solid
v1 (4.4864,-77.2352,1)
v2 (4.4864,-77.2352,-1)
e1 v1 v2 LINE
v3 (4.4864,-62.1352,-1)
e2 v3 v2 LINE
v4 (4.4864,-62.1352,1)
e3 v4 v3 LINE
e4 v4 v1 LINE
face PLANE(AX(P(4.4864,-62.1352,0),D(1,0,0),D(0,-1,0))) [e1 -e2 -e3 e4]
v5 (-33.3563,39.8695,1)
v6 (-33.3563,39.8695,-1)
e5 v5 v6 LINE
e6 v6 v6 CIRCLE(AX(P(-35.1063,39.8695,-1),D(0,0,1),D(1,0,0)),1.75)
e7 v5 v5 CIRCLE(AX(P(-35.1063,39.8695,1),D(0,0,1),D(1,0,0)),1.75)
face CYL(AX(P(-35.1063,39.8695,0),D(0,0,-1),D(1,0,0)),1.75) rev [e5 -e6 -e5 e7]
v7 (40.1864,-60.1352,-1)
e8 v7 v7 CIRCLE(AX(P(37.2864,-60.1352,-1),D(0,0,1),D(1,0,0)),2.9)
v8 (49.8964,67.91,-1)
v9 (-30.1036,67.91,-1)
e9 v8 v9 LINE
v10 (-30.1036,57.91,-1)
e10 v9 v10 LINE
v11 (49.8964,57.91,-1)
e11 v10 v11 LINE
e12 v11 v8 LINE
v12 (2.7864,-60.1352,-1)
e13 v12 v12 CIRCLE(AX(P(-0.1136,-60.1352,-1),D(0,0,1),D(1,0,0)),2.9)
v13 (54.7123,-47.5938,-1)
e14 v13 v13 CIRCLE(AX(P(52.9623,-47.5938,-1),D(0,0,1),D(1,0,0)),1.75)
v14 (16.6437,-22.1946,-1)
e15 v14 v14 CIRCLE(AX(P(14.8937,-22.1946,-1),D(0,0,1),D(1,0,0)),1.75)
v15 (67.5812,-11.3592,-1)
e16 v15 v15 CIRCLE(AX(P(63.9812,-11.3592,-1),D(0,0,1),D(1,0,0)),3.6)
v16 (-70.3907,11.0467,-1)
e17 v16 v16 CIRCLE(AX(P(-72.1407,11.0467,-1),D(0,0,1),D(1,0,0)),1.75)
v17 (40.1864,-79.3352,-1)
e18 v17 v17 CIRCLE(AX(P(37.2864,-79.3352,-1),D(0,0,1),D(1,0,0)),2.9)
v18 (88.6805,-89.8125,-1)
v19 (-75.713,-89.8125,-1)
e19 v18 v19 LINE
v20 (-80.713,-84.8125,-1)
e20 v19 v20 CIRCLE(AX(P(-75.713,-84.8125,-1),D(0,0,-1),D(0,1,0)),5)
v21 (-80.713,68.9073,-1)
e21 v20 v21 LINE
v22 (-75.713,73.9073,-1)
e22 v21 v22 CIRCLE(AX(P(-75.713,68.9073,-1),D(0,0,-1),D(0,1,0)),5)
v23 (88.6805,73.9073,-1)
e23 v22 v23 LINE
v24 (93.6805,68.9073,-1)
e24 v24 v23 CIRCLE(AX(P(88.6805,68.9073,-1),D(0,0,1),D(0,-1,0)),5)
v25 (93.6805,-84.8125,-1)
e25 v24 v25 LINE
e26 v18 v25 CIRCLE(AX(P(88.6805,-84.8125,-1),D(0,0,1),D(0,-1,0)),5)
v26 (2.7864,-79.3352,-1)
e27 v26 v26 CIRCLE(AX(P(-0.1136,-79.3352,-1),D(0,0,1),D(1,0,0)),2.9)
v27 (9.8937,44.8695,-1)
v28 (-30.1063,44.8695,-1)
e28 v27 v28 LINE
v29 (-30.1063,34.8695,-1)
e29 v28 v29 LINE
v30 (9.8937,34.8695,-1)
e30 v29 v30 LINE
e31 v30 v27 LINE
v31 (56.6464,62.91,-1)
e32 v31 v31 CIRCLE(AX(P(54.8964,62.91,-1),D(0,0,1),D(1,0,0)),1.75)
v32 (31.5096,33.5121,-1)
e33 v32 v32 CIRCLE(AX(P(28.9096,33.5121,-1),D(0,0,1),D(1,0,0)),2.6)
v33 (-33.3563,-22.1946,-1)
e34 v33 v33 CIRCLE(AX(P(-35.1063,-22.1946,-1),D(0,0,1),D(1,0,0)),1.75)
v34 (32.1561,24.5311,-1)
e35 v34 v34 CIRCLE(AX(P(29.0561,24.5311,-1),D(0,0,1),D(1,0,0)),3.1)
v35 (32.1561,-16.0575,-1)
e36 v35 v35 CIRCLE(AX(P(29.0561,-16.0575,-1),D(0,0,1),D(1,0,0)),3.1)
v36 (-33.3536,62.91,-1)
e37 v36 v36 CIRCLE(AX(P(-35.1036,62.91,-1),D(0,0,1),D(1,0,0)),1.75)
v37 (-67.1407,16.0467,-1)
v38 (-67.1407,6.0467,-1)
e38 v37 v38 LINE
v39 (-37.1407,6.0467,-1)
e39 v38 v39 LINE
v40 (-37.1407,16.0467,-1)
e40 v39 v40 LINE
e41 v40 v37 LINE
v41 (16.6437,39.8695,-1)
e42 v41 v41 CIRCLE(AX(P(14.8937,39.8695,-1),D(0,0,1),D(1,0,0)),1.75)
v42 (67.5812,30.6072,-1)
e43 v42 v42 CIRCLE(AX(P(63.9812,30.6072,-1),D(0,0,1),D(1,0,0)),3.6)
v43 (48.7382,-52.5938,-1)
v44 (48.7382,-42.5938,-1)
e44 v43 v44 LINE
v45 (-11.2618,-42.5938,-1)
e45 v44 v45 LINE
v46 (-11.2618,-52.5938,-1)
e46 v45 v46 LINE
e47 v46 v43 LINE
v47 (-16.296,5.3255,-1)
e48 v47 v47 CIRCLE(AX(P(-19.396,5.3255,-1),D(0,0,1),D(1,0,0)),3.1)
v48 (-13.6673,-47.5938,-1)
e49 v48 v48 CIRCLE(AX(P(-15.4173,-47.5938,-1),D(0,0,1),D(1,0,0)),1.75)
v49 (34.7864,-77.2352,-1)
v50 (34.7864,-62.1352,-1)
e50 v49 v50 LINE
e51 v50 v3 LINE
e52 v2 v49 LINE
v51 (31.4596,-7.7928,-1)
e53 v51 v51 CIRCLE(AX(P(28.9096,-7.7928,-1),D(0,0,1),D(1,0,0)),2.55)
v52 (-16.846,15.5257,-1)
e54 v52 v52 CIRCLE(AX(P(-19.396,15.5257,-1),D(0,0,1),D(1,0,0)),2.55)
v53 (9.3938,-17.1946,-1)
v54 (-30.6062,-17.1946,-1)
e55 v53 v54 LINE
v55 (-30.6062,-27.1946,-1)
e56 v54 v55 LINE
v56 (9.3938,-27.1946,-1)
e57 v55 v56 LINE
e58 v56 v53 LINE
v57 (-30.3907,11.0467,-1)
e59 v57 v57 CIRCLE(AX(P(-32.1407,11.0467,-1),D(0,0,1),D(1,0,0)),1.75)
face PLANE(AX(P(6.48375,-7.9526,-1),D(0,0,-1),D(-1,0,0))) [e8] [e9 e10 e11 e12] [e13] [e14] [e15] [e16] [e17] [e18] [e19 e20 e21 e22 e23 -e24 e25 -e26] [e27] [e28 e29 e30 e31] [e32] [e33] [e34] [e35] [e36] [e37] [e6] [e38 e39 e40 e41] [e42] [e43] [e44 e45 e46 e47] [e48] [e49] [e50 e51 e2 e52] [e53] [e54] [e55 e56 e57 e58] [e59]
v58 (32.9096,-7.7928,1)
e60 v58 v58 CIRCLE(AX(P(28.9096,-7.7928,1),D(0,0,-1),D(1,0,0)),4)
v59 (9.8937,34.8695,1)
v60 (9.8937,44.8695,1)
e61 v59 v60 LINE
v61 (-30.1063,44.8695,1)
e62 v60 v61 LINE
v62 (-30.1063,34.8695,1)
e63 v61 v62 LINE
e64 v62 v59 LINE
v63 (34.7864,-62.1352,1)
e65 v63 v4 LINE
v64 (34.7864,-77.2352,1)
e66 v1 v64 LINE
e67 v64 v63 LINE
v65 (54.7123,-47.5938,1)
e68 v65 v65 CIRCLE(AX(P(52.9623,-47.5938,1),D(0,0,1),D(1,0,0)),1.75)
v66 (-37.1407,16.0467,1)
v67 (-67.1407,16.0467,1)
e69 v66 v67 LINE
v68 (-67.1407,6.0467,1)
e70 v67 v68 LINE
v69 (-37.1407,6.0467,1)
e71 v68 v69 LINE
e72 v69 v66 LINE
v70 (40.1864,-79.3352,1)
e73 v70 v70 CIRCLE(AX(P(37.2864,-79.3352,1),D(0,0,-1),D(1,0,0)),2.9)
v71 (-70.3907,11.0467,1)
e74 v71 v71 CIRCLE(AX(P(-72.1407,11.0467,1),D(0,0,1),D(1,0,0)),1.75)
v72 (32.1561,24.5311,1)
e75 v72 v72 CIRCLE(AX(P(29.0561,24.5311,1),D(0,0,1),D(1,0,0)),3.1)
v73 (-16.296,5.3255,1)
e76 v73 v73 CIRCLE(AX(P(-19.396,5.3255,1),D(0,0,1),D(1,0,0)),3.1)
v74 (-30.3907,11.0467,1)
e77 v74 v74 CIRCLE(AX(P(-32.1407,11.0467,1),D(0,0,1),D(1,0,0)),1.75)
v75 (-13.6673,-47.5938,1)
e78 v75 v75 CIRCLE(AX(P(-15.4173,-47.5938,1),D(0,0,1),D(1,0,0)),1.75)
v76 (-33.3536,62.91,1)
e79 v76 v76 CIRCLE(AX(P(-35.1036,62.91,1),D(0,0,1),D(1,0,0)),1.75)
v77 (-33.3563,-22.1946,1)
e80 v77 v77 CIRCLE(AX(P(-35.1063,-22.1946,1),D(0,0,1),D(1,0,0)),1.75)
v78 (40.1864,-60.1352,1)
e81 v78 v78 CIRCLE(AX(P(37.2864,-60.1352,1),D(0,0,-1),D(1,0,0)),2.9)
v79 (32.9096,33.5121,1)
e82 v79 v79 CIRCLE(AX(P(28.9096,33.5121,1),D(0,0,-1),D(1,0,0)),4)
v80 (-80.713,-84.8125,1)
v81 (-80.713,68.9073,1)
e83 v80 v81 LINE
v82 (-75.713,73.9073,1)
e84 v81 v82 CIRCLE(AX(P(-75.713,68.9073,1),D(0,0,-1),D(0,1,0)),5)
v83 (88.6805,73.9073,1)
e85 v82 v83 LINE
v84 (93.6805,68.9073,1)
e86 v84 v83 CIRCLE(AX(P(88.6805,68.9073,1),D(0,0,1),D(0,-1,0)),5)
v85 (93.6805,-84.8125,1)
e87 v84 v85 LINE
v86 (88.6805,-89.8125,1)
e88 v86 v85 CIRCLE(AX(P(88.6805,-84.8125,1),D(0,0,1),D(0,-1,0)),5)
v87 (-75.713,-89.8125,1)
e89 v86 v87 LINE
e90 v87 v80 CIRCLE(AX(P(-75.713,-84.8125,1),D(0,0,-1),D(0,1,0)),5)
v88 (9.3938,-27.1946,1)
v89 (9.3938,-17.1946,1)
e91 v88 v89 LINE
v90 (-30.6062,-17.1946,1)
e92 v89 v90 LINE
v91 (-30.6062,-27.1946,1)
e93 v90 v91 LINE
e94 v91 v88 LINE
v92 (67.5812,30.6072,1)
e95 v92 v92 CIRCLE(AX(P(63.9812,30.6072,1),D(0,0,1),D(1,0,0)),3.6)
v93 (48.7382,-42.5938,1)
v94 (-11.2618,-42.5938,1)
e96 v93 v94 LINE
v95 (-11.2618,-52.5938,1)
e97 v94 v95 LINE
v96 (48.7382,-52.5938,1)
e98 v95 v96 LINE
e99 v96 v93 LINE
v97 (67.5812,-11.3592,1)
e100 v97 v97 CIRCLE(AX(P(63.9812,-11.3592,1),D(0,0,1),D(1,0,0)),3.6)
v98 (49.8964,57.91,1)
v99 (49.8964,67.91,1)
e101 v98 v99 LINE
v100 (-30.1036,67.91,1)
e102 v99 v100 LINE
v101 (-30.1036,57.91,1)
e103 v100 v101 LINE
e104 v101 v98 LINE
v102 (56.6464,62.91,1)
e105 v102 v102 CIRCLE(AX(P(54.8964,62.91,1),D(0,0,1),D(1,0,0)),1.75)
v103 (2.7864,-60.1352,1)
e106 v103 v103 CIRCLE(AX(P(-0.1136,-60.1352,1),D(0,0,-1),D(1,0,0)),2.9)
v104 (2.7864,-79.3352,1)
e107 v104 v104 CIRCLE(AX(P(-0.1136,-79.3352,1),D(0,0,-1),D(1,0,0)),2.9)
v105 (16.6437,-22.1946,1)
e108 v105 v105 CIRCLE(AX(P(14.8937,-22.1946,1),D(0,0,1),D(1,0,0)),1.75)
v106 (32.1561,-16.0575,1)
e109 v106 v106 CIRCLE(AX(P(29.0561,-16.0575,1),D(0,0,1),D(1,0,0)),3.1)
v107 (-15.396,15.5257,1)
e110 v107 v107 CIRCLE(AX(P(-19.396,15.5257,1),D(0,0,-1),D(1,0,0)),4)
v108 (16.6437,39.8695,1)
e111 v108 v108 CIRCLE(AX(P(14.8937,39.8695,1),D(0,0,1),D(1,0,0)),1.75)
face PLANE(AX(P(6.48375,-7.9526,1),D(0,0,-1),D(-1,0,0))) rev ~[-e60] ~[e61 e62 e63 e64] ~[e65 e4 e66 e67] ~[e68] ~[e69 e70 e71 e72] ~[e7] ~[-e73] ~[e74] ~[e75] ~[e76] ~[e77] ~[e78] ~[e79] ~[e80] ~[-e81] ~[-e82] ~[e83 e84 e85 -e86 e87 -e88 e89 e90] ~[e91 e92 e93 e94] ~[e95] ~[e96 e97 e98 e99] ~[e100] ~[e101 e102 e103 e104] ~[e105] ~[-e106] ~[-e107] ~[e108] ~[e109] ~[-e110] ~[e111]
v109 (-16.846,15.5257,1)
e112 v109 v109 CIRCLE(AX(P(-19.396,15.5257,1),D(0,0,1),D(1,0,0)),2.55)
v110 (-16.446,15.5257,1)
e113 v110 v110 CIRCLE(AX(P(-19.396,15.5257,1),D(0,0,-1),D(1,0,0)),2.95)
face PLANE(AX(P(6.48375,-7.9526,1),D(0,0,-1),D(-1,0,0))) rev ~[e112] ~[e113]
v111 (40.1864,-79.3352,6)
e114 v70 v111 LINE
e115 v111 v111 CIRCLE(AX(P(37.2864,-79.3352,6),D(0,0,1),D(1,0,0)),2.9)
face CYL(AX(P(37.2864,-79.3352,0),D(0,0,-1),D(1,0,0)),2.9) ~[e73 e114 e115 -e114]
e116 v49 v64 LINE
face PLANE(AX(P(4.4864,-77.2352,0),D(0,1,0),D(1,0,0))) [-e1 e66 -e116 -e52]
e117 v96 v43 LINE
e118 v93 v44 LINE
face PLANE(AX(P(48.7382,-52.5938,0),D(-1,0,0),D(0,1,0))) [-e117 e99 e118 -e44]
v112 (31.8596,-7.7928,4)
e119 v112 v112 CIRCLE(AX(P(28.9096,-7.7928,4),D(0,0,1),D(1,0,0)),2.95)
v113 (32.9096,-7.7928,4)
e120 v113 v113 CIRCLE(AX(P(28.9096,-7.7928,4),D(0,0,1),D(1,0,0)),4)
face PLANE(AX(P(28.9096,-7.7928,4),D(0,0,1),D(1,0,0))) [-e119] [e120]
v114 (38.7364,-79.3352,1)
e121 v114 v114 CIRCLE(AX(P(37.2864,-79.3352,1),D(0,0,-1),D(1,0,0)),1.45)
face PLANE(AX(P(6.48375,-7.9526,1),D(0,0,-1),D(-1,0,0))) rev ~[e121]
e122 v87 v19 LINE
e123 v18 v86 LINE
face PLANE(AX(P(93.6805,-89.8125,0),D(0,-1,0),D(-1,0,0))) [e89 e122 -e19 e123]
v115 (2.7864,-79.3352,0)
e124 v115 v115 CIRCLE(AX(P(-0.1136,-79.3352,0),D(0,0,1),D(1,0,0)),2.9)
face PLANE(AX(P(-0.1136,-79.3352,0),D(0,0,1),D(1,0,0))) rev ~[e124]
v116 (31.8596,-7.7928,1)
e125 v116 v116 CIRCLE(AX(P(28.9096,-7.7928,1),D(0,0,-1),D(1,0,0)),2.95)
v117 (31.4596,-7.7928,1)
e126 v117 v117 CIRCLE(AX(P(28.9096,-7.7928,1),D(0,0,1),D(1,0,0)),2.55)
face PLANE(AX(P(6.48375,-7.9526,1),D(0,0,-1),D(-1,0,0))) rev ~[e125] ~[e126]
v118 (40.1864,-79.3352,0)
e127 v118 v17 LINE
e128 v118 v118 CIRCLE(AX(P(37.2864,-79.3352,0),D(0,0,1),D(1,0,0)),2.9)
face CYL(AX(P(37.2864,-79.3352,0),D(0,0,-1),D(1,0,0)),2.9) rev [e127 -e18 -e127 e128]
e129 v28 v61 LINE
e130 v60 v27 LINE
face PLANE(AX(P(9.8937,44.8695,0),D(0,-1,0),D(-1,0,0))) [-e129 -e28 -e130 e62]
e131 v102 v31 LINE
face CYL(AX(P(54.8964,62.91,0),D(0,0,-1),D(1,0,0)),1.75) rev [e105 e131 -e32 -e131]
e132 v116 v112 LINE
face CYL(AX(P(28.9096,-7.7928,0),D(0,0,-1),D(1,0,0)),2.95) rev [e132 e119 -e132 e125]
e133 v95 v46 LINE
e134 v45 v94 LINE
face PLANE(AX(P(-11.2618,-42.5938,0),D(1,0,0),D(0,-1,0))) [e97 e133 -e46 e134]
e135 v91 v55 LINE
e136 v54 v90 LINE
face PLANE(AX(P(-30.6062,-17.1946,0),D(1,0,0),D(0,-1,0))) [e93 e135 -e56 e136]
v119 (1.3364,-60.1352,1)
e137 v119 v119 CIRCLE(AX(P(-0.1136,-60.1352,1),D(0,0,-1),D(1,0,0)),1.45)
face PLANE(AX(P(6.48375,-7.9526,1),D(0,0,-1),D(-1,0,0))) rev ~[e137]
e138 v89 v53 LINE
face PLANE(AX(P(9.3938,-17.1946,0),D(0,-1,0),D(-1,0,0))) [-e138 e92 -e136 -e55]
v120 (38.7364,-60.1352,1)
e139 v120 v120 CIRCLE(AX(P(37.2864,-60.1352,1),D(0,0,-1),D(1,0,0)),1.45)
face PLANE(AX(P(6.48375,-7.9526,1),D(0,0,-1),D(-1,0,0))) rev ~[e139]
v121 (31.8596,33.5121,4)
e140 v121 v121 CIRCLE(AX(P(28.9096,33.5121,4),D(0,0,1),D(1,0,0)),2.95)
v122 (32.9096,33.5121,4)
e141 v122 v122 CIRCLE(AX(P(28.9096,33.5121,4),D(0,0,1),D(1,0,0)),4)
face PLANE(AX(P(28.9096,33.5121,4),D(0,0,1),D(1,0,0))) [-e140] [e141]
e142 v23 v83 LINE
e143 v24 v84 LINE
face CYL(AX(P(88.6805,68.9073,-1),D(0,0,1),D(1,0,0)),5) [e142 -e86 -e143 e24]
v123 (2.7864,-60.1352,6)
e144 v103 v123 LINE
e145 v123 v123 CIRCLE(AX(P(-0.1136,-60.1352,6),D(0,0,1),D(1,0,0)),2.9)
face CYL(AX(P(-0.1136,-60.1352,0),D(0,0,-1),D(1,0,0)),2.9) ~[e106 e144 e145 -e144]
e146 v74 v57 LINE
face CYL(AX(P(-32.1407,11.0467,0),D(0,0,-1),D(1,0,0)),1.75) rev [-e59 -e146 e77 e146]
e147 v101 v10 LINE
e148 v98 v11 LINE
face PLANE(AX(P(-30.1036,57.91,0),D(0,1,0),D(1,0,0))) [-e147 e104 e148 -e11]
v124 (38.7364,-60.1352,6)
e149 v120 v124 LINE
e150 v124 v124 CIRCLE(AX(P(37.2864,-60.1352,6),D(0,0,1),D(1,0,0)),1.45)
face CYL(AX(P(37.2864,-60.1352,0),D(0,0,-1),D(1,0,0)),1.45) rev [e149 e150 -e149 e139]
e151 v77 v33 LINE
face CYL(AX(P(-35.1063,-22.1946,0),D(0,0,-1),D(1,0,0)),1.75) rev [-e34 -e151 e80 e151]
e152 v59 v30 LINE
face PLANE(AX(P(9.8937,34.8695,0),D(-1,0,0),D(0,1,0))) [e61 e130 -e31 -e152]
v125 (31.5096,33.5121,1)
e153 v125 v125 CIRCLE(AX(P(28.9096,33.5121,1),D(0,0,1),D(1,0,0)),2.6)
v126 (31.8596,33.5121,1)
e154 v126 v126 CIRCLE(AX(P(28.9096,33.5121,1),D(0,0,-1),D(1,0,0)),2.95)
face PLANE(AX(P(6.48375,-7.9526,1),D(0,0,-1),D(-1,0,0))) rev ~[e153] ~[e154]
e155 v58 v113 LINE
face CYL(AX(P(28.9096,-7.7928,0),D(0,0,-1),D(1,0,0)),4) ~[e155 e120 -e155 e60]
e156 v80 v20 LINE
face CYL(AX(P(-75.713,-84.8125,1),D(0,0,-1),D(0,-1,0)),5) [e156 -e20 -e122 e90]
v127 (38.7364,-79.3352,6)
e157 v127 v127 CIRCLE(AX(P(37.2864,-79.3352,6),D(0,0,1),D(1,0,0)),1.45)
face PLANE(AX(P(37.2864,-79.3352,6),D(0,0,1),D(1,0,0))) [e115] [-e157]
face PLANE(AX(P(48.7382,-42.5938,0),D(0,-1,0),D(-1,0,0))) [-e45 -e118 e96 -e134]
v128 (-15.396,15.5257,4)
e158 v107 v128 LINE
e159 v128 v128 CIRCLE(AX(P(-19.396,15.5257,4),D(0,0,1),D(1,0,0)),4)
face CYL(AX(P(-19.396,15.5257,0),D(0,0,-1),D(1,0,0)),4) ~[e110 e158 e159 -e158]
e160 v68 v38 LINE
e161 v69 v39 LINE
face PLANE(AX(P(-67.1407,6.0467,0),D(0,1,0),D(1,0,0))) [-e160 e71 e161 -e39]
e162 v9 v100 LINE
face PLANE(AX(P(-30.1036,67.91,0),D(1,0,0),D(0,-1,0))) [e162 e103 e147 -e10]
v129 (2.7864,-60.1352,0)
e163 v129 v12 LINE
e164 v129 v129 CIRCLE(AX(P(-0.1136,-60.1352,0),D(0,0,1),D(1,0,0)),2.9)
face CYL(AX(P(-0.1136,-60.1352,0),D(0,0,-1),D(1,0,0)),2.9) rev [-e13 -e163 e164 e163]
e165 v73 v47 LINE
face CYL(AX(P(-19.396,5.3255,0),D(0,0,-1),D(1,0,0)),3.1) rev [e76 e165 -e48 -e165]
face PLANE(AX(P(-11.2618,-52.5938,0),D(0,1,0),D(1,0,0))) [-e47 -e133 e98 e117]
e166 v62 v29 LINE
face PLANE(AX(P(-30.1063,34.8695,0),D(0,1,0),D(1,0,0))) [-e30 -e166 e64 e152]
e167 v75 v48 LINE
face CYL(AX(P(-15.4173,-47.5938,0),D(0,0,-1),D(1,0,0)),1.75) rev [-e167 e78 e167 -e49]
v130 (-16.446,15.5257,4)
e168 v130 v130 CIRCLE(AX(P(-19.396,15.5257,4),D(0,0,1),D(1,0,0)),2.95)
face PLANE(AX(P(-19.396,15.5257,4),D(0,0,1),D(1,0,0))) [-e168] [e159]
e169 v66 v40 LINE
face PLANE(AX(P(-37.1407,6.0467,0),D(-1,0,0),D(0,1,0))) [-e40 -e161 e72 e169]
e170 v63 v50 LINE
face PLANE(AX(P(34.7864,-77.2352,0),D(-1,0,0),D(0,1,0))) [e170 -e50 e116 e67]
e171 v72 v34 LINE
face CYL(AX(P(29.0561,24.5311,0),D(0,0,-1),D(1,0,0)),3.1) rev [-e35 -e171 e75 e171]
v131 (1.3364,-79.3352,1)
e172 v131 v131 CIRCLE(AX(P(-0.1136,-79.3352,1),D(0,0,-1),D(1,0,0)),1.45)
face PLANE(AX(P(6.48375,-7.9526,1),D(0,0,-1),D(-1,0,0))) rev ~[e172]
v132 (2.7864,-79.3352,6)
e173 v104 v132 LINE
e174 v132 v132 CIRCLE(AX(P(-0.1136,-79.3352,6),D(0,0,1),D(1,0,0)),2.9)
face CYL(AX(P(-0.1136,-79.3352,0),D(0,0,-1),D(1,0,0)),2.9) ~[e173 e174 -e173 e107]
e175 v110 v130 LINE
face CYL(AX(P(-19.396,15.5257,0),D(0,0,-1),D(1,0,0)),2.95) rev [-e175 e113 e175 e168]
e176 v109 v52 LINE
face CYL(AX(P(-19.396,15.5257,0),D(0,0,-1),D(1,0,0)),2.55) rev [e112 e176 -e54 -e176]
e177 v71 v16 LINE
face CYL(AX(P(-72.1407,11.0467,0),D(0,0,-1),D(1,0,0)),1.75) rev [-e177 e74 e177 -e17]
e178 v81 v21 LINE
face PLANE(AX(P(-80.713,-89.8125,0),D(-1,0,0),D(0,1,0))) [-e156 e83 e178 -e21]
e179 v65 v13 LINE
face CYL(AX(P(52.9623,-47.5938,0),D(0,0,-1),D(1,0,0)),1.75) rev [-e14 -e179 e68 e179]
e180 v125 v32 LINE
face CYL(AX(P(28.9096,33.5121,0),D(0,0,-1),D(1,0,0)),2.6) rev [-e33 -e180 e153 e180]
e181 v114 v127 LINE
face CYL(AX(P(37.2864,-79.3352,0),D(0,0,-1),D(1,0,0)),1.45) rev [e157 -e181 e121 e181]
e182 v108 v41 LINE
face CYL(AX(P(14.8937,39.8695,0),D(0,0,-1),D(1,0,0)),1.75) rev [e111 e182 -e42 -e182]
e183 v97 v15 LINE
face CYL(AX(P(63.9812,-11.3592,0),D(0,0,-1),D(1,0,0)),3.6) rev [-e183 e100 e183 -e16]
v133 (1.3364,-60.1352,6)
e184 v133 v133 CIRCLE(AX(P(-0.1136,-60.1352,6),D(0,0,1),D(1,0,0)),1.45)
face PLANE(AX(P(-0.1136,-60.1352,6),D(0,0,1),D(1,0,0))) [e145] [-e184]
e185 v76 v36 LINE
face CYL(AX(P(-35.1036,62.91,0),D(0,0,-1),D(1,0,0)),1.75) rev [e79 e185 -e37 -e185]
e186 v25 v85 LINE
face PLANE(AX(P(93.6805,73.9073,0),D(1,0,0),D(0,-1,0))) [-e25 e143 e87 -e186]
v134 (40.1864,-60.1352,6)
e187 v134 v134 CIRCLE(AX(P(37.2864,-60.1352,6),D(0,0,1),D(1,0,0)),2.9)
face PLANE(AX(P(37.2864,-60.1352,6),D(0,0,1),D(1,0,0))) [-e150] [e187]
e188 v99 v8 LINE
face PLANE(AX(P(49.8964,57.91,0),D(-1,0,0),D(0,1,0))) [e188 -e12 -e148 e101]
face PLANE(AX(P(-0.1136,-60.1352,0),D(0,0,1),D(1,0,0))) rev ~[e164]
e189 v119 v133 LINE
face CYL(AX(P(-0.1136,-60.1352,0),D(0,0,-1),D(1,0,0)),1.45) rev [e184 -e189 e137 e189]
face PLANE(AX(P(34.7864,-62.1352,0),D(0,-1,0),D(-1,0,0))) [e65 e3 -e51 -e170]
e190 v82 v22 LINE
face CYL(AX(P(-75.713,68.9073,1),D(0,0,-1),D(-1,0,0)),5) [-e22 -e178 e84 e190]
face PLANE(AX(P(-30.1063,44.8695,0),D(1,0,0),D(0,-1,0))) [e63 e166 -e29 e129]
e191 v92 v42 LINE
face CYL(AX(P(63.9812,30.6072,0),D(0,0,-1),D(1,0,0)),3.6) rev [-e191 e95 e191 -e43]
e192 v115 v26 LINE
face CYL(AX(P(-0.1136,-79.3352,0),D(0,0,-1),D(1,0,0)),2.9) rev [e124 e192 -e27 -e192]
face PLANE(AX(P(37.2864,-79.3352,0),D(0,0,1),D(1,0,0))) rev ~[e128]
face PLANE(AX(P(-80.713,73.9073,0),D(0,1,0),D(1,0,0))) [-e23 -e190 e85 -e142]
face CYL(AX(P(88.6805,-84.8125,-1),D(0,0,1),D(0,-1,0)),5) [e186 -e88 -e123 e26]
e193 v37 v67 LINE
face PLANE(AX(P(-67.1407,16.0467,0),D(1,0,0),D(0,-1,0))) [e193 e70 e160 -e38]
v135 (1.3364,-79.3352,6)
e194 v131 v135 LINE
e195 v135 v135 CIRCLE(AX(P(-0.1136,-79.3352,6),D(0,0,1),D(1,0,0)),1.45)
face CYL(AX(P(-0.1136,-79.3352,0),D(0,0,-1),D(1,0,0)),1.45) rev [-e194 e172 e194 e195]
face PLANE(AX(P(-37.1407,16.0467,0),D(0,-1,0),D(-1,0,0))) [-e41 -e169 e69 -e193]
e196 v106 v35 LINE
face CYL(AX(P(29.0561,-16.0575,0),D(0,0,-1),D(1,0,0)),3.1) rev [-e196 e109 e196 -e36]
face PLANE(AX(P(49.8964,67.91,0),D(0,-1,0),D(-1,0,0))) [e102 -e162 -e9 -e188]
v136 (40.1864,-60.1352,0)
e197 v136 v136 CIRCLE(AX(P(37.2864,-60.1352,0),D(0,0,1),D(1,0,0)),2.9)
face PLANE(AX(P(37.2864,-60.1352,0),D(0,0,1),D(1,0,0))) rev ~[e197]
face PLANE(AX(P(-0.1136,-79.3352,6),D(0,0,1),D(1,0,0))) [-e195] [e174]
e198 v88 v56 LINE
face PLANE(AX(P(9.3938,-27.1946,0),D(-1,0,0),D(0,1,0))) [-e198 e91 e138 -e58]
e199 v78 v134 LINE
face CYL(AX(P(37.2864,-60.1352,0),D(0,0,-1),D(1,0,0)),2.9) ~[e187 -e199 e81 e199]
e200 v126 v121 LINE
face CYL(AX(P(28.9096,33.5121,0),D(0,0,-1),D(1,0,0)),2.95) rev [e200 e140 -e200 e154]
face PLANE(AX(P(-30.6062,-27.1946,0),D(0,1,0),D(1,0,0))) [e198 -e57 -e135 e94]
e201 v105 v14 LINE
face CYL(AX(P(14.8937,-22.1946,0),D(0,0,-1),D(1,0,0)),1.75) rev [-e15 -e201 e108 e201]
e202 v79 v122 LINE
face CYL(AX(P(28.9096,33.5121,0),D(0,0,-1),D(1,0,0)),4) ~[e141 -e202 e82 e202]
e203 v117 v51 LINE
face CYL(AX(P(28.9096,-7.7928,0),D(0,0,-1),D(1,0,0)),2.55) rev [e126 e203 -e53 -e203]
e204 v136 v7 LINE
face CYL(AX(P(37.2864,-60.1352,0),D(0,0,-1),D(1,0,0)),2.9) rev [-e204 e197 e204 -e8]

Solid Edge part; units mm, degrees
sketch "Sketch1" plane through (0, 0, 0) normal (0, 0, 1) x (1, 0, 0)
  circle A0 centre (29.0561, 24.5311) radius 3.1
  line L0 (-30.1036, 67.91) -> (-30.1036, 57.91)
  line L1 (-30.1036, 57.91) -> (49.8964, 57.91)
  line L2 (49.8964, 57.91) -> (49.8964, 67.91)
  line L3 (49.8964, 67.91) -> (-30.1036, 67.91)
  line L4 (-11.2618, -42.5938) -> (-11.2618, -52.5938)
  line L5 (-11.2618, -52.5938) -> (48.7382, -52.5938)
  line L6 (48.7382, -52.5938) -> (48.7382, -42.5938)
  line L7 (48.7382, -42.5938) -> (-11.2618, -42.5938)
  line L8 (-30.6062, -17.1946) -> (-30.6062, -27.1946)
  line L9 (-30.6062, -27.1946) -> (9.3938, -27.1946)
  line L10 (9.3938, -27.1946) -> (9.3938, -17.1946)
  line L11 (9.3938, -17.1946) -> (-30.6062, -17.1946)
  line L12 (-30.1063, 44.8695) -> (-30.1063, 34.8695)
  line L13 (-30.1063, 34.8695) -> (9.8937, 34.8695)
  line L14 (9.8937, 34.8695) -> (9.8937, 44.8695)
  line L15 (9.8937, 44.8695) -> (-30.1063, 44.8695)
  line L16 (-67.1407, 16.0467) -> (-67.1407, 6.0467)
  line L17 (-67.1407, 6.0467) -> (-37.1407, 6.0467)
  line L18 (-37.1407, 6.0467) -> (-37.1407, 16.0467)
  line L19 (-37.1407, 16.0467) -> (-67.1407, 16.0467)
  circle A1 centre (37.2864, -60.1352) radius 2.9
  circle A2 centre (-19.396, 5.3255) radius 3.1
  line L20 (93.6805, -89.8125) -> (-80.713, -89.8125)
  line L21 (-80.713, -89.8125) -> (-80.713, 73.9073)
  line L22 (-80.713, 73.9073) -> (93.6805, 73.9073)
  line L23 (93.6805, 73.9073) -> (93.6805, -89.8125)
  circle A3 centre (29.0561, -16.0575) radius 3.1
  circle A4 centre (63.9812, -11.3592) radius 3.6
  circle A5 centre (63.9812, 30.6072) radius 3.6
  circle A6 centre (28.9096, 33.5121) radius 2.6
  circle A7 centre (28.9096, -7.7928) radius 2.55
  circle A8 centre (-19.396, 15.5257) radius 2.55
  circle A9 centre (52.9623, -47.5938) radius 1.75
  circle A10 centre (14.8937, -22.1946) radius 1.75
  circle A11 centre (-72.1407, 11.0467) radius 1.75
  circle A12 centre (14.8937, 39.8695) radius 1.75
  circle A13 centre (-35.1036, 62.91) radius 1.75
  circle A14 centre (-35.1063, 39.8695) radius 1.75
  circle A15 centre (-32.1407, 11.0467) radius 1.75
  circle A16 centre (-35.1063, -22.1946) radius 1.75
  circle A17 centre (-15.4173, -47.5938) radius 1.75
  circle A18 centre (54.8964, 62.91) radius 1.75
  circle A19 centre (-0.1136, -79.3352) radius 2.9
  line L24 (34.7864, -77.2352) -> (34.7864, -62.1352)
  line L25 (34.7864, -62.1352) -> (4.4864, -62.1352)
  line L26 (4.4864, -62.1352) -> (4.4864, -77.2352)
  line L27 (4.4864, -77.2352) -> (34.7864, -77.2352)
  circle A20 centre (-0.1136, -60.1352) radius 2.9
  circle A21 centre (37.2864, -79.3352) radius 2.9
  dimension "D1" = 5.9
  dimension "D2" = 8
  dimension "D3" = 10
  dimension "D4" = 60
  dimension "D5" = 40
  dimension "D6" = 10
  dimension "D7" = 30
  dimension "D8" = 10
  dimension "D9" = 10
  dimension "D10" = 40
  dimension "D11" = 10
  dimension "D12" = 80
  dimension "D13" = 5
  dimension "D14" = 5
  dimension "D15" = 5
  dimension "D16" = 5
  dimension "D17" = 5
  dimension "D18" = 5
  dimension "D19" = 2.9
  dimension "D20" = 2.9
  dimension "D21" = 2.5
extrude "Protrusion1" add sketch "Sketch1" along normal blind 1
sketch "Sketch2" plane through (0, 0, 0) normal (0, 0, 1) x (1, 0, 0)
  line L0 (-67.1407, 6.0467) -> (-37.1407, 6.0467)
  line L1 (-37.1407, 6.0467) -> (-37.1407, 16.0467)
  line L2 (-37.1407, 16.0467) -> (-67.1407, 16.0467)
  line L3 (-67.1407, 16.0467) -> (-67.1407, 6.0467)
  line L4 (-30.1063, 34.8695) -> (9.8937, 34.8695)
  line L5 (9.8937, 34.8695) -> (9.8937, 44.8695)
  line L6 (9.8937, 44.8695) -> (-30.1063, 44.8695)
  line L7 (-30.1063, 44.8695) -> (-30.1063, 34.8695)
  line L8 (-30.6062, -27.1946) -> (9.3938, -27.1946)
  line L9 (9.3938, -27.1946) -> (9.3938, -17.1946)
  line L10 (9.3938, -17.1946) -> (-30.6062, -17.1946)
  line L11 (-30.6062, -17.1946) -> (-30.6062, -27.1946)
  line L12 (-11.2618, -52.5938) -> (48.7382, -52.5938)
  line L13 (48.7382, -52.5938) -> (48.7382, -42.5938)
  line L14 (48.7382, -42.5938) -> (-11.2618, -42.5938)
  line L15 (-11.2618, -42.5938) -> (-11.2618, -52.5938)
  line L16 (-30.1036, 57.91) -> (49.8964, 57.91)
  line L17 (49.8964, 57.91) -> (49.8964, 67.91)
  line L18 (49.8964, 67.91) -> (-30.1036, 67.91)
  line L19 (-30.1036, 67.91) -> (-30.1036, 57.91)
  circle A0 centre (-19.396, 5.3255) radius 3.1
  circle A1 centre (-0.1136, -79.3352) radius 2.9
  circle A2 centre (29.0561, -16.0575) radius 3.1
  circle A3 centre (29.0561, 24.5311) radius 3.1
  line L20 (-80.713, -89.8125) -> (-80.713, 73.9073)
  line L21 (-80.713, 73.9073) -> (93.6805, 73.9073)
  line L22 (93.6805, 73.9073) -> (93.6805, -89.8125)
  line L23 (93.6805, -89.8125) -> (-80.713, -89.8125)
  circle A4 centre (63.9812, -11.3592) radius 20
  circle A5 centre (63.8842, 30.3922) radius 20
  circle A6 centre (28.9096, -7.7928) radius 2.55
  circle A7 centre (-19.396, 15.5257) radius 2.55
  circle A8 centre (28.9096, 33.5121) radius 2.6
  circle A9 centre (-35.1063, -22.1946) radius 1.75
  circle A10 centre (52.9623, -47.5938) radius 1.75
  circle A11 centre (-72.1407, 11.0467) radius 1.75
  circle A12 centre (-35.1036, 62.91) radius 1.75
  circle A13 centre (54.8964, 62.91) radius 1.75
  circle A14 centre (-35.1063, 39.8695) radius 1.75
  circle A15 centre (14.8937, 39.8695) radius 1.75
  circle A16 centre (14.8937, -22.1946) radius 1.75
  circle A17 centre (-15.4173, -47.5938) radius 1.75
  circle A18 centre (-32.1407, 11.0467) radius 1.75
  circle A19 centre (37.2864, -60.1352) radius 2.9
  line L24 (34.7864, -77.2352) -> (34.7864, -62.1352)
  line L25 (34.7864, -62.1352) -> (4.4864, -62.1352)
  line L26 (4.4864, -62.1352) -> (4.4864, -77.2352)
  line L27 (4.4864, -77.2352) -> (34.7864, -77.2352)
  circle A20 centre (37.2864, -79.3352) radius 2.9
  circle A21 centre (-0.1136, -60.1352) radius 2.9
  dimension "D1" = 5.9
  dimension "D2" = 8
  dimension "D3" = 10
  dimension "D4" = 60
  dimension "D5" = 40
  dimension "D6" = 10
  dimension "D7" = 30
  dimension "D8" = 10
  dimension "D9" = 10
  dimension "D10" = 40
  dimension "D11" = 10
  dimension "D12" = 80
  dimension "D13" = 5
  dimension "D14" = 5
  dimension "D15" = 5
  dimension "D16" = 5
  dimension "D17" = 5
  dimension "D18" = 5
  dimension "D19" = 2.9
  dimension "D20" = 2.9
  dimension "D21" = 2.5
extrude "ExtrudedProtrusion_2" add sketch "Sketch2" against normal blind 1
fillet "Round_2" radius 5 4 edges at (93.6805, 73.9073, 0) (93.6805, -89.8125, 0) (-80.713, 73.9073, 0) (-80.713, -89.8125, 0)
sketch "Sketch3" plane through (0, 0, 0) normal (0, 0, 1) x (1, 0, 0)
  circle A0 centre (28.9096, 33.5121) radius 2.95
  circle A1 centre (28.9096, 33.5121) radius 4
  circle A2 centre (-19.396, 15.5257) radius 2.95
  circle A3 centre (-19.396, 15.5257) radius 4
  circle A4 centre (28.9096, -7.7928) radius 2.95
  circle A5 centre (28.9096, -7.7928) radius 4
  dimension "D1" = 5.9
  dimension "D2" = 8
  dimension "D3" = 10
  dimension "D4" = 60
  dimension "D5" = 40
  dimension "D6" = 10
  dimension "D7" = 30
  dimension "D8" = 10
  dimension "D9" = 10
  dimension "D10" = 40
  dimension "D11" = 10
  dimension "D12" = 80
  dimension "D13" = 5
  dimension "D14" = 5
  dimension "D15" = 5
  dimension "D16" = 5
  dimension "D17" = 5
  dimension "D18" = 5
  dimension "D19" = 2.9
  dimension "D20" = 2.9
  dimension "D21" = 2.5
extrude "ExtrudedProtrusion_4" add sketch "Sketch3" along normal blind 4
sketch "Sketch4" plane through (0, 0, 0) normal (0, 0, 1) x (1, 0, 0)
  circle A0 centre (63.9812, -11.3592) radius 3.6
  circle A1 centre (63.9812, -11.3592) radius 20
  circle A2 centre (63.9812, 30.6072) radius 3.6
  circle A3 centre (63.8842, 30.3922) radius 20
  dimension "D1" = 5.9
  dimension "D2" = 8
  dimension "D3" = 10
  dimension "D4" = 60
  dimension "D5" = 40
  dimension "D6" = 10
  dimension "D7" = 30
  dimension "D8" = 10
  dimension "D9" = 10
  dimension "D10" = 40
  dimension "D11" = 10
  dimension "D12" = 80
  dimension "D13" = 5
  dimension "D14" = 5
  dimension "D15" = 5
  dimension "D16" = 5
  dimension "D17" = 5
  dimension "D18" = 5
  dimension "D19" = 2.9
  dimension "D20" = 2.9
  dimension "D21" = 2.5
extrude "Protrusion2" add sketch "Sketch4" against normal up to vertex (1 mm away)
sketch "Sketch5" plane through (0, 0, 0) normal (0, 0, 1) x (1, 0, 0)
  circle A0 centre (37.2864, -60.1352) radius 2.9
  circle A1 centre (37.2864, -79.3352) radius 2.9
  circle A2 centre (-0.1136, -79.3352) radius 2.9
  circle A3 centre (-0.1136, -60.1352) radius 2.9
  dimension "D1" = 5.9
  dimension "D2" = 8
  dimension "D3" = 10
  dimension "D4" = 60
  dimension "D5" = 40
  dimension "D6" = 10
  dimension "D7" = 30
  dimension "D8" = 10
  dimension "D9" = 10
  dimension "D10" = 40
  dimension "D11" = 10
  dimension "D12" = 80
  dimension "D13" = 5
  dimension "D14" = 5
  dimension "D15" = 5
  dimension "D16" = 5
  dimension "D17" = 5
  dimension "D18" = 5
  dimension "D19" = 2.9
  dimension "D20" = 2.9
  dimension "D21" = 2.5
extrude "ExtrudedProtrusion_7" add sketch "Sketch5" along normal blind 1
sketch "Sketch6" plane through (0, 0, 0) normal (0, 0, 1) x (1, 0, 0)
  circle A0 centre (-0.1136, -60.1352) radius 1.45
  circle A1 centre (-0.1136, -60.1352) radius 2.9
  circle A2 centre (-0.1136, -79.3352) radius 1.45
  circle A3 centre (-0.1136, -79.3352) radius 2.9
  circle A4 centre (37.2864, -79.3352) radius 1.45
  circle A5 centre (37.2864, -79.3352) radius 2.9
  circle A6 centre (37.2864, -60.1352) radius 1.45
  circle A7 centre (37.2864, -60.1352) radius 2.9
  dimension "D1" = 5.9
  dimension "D2" = 8
  dimension "D3" = 10
  dimension "D4" = 60
  dimension "D5" = 40
  dimension "D6" = 10
  dimension "D7" = 30
  dimension "D8" = 10
  dimension "D9" = 10
  dimension "D10" = 40
  dimension "D11" = 10
  dimension "D12" = 80
  dimension "D13" = 5
  dimension "D14" = 5
  dimension "D15" = 5
  dimension "D16" = 5
  dimension "D17" = 5
  dimension "D18" = 5
  dimension "D19" = 2.9
  dimension "D20" = 2.9
  dimension "D21" = 2.5
extrude "ExtrudedProtrusion_8" add sketch "Sketch6" along normal blind 6
